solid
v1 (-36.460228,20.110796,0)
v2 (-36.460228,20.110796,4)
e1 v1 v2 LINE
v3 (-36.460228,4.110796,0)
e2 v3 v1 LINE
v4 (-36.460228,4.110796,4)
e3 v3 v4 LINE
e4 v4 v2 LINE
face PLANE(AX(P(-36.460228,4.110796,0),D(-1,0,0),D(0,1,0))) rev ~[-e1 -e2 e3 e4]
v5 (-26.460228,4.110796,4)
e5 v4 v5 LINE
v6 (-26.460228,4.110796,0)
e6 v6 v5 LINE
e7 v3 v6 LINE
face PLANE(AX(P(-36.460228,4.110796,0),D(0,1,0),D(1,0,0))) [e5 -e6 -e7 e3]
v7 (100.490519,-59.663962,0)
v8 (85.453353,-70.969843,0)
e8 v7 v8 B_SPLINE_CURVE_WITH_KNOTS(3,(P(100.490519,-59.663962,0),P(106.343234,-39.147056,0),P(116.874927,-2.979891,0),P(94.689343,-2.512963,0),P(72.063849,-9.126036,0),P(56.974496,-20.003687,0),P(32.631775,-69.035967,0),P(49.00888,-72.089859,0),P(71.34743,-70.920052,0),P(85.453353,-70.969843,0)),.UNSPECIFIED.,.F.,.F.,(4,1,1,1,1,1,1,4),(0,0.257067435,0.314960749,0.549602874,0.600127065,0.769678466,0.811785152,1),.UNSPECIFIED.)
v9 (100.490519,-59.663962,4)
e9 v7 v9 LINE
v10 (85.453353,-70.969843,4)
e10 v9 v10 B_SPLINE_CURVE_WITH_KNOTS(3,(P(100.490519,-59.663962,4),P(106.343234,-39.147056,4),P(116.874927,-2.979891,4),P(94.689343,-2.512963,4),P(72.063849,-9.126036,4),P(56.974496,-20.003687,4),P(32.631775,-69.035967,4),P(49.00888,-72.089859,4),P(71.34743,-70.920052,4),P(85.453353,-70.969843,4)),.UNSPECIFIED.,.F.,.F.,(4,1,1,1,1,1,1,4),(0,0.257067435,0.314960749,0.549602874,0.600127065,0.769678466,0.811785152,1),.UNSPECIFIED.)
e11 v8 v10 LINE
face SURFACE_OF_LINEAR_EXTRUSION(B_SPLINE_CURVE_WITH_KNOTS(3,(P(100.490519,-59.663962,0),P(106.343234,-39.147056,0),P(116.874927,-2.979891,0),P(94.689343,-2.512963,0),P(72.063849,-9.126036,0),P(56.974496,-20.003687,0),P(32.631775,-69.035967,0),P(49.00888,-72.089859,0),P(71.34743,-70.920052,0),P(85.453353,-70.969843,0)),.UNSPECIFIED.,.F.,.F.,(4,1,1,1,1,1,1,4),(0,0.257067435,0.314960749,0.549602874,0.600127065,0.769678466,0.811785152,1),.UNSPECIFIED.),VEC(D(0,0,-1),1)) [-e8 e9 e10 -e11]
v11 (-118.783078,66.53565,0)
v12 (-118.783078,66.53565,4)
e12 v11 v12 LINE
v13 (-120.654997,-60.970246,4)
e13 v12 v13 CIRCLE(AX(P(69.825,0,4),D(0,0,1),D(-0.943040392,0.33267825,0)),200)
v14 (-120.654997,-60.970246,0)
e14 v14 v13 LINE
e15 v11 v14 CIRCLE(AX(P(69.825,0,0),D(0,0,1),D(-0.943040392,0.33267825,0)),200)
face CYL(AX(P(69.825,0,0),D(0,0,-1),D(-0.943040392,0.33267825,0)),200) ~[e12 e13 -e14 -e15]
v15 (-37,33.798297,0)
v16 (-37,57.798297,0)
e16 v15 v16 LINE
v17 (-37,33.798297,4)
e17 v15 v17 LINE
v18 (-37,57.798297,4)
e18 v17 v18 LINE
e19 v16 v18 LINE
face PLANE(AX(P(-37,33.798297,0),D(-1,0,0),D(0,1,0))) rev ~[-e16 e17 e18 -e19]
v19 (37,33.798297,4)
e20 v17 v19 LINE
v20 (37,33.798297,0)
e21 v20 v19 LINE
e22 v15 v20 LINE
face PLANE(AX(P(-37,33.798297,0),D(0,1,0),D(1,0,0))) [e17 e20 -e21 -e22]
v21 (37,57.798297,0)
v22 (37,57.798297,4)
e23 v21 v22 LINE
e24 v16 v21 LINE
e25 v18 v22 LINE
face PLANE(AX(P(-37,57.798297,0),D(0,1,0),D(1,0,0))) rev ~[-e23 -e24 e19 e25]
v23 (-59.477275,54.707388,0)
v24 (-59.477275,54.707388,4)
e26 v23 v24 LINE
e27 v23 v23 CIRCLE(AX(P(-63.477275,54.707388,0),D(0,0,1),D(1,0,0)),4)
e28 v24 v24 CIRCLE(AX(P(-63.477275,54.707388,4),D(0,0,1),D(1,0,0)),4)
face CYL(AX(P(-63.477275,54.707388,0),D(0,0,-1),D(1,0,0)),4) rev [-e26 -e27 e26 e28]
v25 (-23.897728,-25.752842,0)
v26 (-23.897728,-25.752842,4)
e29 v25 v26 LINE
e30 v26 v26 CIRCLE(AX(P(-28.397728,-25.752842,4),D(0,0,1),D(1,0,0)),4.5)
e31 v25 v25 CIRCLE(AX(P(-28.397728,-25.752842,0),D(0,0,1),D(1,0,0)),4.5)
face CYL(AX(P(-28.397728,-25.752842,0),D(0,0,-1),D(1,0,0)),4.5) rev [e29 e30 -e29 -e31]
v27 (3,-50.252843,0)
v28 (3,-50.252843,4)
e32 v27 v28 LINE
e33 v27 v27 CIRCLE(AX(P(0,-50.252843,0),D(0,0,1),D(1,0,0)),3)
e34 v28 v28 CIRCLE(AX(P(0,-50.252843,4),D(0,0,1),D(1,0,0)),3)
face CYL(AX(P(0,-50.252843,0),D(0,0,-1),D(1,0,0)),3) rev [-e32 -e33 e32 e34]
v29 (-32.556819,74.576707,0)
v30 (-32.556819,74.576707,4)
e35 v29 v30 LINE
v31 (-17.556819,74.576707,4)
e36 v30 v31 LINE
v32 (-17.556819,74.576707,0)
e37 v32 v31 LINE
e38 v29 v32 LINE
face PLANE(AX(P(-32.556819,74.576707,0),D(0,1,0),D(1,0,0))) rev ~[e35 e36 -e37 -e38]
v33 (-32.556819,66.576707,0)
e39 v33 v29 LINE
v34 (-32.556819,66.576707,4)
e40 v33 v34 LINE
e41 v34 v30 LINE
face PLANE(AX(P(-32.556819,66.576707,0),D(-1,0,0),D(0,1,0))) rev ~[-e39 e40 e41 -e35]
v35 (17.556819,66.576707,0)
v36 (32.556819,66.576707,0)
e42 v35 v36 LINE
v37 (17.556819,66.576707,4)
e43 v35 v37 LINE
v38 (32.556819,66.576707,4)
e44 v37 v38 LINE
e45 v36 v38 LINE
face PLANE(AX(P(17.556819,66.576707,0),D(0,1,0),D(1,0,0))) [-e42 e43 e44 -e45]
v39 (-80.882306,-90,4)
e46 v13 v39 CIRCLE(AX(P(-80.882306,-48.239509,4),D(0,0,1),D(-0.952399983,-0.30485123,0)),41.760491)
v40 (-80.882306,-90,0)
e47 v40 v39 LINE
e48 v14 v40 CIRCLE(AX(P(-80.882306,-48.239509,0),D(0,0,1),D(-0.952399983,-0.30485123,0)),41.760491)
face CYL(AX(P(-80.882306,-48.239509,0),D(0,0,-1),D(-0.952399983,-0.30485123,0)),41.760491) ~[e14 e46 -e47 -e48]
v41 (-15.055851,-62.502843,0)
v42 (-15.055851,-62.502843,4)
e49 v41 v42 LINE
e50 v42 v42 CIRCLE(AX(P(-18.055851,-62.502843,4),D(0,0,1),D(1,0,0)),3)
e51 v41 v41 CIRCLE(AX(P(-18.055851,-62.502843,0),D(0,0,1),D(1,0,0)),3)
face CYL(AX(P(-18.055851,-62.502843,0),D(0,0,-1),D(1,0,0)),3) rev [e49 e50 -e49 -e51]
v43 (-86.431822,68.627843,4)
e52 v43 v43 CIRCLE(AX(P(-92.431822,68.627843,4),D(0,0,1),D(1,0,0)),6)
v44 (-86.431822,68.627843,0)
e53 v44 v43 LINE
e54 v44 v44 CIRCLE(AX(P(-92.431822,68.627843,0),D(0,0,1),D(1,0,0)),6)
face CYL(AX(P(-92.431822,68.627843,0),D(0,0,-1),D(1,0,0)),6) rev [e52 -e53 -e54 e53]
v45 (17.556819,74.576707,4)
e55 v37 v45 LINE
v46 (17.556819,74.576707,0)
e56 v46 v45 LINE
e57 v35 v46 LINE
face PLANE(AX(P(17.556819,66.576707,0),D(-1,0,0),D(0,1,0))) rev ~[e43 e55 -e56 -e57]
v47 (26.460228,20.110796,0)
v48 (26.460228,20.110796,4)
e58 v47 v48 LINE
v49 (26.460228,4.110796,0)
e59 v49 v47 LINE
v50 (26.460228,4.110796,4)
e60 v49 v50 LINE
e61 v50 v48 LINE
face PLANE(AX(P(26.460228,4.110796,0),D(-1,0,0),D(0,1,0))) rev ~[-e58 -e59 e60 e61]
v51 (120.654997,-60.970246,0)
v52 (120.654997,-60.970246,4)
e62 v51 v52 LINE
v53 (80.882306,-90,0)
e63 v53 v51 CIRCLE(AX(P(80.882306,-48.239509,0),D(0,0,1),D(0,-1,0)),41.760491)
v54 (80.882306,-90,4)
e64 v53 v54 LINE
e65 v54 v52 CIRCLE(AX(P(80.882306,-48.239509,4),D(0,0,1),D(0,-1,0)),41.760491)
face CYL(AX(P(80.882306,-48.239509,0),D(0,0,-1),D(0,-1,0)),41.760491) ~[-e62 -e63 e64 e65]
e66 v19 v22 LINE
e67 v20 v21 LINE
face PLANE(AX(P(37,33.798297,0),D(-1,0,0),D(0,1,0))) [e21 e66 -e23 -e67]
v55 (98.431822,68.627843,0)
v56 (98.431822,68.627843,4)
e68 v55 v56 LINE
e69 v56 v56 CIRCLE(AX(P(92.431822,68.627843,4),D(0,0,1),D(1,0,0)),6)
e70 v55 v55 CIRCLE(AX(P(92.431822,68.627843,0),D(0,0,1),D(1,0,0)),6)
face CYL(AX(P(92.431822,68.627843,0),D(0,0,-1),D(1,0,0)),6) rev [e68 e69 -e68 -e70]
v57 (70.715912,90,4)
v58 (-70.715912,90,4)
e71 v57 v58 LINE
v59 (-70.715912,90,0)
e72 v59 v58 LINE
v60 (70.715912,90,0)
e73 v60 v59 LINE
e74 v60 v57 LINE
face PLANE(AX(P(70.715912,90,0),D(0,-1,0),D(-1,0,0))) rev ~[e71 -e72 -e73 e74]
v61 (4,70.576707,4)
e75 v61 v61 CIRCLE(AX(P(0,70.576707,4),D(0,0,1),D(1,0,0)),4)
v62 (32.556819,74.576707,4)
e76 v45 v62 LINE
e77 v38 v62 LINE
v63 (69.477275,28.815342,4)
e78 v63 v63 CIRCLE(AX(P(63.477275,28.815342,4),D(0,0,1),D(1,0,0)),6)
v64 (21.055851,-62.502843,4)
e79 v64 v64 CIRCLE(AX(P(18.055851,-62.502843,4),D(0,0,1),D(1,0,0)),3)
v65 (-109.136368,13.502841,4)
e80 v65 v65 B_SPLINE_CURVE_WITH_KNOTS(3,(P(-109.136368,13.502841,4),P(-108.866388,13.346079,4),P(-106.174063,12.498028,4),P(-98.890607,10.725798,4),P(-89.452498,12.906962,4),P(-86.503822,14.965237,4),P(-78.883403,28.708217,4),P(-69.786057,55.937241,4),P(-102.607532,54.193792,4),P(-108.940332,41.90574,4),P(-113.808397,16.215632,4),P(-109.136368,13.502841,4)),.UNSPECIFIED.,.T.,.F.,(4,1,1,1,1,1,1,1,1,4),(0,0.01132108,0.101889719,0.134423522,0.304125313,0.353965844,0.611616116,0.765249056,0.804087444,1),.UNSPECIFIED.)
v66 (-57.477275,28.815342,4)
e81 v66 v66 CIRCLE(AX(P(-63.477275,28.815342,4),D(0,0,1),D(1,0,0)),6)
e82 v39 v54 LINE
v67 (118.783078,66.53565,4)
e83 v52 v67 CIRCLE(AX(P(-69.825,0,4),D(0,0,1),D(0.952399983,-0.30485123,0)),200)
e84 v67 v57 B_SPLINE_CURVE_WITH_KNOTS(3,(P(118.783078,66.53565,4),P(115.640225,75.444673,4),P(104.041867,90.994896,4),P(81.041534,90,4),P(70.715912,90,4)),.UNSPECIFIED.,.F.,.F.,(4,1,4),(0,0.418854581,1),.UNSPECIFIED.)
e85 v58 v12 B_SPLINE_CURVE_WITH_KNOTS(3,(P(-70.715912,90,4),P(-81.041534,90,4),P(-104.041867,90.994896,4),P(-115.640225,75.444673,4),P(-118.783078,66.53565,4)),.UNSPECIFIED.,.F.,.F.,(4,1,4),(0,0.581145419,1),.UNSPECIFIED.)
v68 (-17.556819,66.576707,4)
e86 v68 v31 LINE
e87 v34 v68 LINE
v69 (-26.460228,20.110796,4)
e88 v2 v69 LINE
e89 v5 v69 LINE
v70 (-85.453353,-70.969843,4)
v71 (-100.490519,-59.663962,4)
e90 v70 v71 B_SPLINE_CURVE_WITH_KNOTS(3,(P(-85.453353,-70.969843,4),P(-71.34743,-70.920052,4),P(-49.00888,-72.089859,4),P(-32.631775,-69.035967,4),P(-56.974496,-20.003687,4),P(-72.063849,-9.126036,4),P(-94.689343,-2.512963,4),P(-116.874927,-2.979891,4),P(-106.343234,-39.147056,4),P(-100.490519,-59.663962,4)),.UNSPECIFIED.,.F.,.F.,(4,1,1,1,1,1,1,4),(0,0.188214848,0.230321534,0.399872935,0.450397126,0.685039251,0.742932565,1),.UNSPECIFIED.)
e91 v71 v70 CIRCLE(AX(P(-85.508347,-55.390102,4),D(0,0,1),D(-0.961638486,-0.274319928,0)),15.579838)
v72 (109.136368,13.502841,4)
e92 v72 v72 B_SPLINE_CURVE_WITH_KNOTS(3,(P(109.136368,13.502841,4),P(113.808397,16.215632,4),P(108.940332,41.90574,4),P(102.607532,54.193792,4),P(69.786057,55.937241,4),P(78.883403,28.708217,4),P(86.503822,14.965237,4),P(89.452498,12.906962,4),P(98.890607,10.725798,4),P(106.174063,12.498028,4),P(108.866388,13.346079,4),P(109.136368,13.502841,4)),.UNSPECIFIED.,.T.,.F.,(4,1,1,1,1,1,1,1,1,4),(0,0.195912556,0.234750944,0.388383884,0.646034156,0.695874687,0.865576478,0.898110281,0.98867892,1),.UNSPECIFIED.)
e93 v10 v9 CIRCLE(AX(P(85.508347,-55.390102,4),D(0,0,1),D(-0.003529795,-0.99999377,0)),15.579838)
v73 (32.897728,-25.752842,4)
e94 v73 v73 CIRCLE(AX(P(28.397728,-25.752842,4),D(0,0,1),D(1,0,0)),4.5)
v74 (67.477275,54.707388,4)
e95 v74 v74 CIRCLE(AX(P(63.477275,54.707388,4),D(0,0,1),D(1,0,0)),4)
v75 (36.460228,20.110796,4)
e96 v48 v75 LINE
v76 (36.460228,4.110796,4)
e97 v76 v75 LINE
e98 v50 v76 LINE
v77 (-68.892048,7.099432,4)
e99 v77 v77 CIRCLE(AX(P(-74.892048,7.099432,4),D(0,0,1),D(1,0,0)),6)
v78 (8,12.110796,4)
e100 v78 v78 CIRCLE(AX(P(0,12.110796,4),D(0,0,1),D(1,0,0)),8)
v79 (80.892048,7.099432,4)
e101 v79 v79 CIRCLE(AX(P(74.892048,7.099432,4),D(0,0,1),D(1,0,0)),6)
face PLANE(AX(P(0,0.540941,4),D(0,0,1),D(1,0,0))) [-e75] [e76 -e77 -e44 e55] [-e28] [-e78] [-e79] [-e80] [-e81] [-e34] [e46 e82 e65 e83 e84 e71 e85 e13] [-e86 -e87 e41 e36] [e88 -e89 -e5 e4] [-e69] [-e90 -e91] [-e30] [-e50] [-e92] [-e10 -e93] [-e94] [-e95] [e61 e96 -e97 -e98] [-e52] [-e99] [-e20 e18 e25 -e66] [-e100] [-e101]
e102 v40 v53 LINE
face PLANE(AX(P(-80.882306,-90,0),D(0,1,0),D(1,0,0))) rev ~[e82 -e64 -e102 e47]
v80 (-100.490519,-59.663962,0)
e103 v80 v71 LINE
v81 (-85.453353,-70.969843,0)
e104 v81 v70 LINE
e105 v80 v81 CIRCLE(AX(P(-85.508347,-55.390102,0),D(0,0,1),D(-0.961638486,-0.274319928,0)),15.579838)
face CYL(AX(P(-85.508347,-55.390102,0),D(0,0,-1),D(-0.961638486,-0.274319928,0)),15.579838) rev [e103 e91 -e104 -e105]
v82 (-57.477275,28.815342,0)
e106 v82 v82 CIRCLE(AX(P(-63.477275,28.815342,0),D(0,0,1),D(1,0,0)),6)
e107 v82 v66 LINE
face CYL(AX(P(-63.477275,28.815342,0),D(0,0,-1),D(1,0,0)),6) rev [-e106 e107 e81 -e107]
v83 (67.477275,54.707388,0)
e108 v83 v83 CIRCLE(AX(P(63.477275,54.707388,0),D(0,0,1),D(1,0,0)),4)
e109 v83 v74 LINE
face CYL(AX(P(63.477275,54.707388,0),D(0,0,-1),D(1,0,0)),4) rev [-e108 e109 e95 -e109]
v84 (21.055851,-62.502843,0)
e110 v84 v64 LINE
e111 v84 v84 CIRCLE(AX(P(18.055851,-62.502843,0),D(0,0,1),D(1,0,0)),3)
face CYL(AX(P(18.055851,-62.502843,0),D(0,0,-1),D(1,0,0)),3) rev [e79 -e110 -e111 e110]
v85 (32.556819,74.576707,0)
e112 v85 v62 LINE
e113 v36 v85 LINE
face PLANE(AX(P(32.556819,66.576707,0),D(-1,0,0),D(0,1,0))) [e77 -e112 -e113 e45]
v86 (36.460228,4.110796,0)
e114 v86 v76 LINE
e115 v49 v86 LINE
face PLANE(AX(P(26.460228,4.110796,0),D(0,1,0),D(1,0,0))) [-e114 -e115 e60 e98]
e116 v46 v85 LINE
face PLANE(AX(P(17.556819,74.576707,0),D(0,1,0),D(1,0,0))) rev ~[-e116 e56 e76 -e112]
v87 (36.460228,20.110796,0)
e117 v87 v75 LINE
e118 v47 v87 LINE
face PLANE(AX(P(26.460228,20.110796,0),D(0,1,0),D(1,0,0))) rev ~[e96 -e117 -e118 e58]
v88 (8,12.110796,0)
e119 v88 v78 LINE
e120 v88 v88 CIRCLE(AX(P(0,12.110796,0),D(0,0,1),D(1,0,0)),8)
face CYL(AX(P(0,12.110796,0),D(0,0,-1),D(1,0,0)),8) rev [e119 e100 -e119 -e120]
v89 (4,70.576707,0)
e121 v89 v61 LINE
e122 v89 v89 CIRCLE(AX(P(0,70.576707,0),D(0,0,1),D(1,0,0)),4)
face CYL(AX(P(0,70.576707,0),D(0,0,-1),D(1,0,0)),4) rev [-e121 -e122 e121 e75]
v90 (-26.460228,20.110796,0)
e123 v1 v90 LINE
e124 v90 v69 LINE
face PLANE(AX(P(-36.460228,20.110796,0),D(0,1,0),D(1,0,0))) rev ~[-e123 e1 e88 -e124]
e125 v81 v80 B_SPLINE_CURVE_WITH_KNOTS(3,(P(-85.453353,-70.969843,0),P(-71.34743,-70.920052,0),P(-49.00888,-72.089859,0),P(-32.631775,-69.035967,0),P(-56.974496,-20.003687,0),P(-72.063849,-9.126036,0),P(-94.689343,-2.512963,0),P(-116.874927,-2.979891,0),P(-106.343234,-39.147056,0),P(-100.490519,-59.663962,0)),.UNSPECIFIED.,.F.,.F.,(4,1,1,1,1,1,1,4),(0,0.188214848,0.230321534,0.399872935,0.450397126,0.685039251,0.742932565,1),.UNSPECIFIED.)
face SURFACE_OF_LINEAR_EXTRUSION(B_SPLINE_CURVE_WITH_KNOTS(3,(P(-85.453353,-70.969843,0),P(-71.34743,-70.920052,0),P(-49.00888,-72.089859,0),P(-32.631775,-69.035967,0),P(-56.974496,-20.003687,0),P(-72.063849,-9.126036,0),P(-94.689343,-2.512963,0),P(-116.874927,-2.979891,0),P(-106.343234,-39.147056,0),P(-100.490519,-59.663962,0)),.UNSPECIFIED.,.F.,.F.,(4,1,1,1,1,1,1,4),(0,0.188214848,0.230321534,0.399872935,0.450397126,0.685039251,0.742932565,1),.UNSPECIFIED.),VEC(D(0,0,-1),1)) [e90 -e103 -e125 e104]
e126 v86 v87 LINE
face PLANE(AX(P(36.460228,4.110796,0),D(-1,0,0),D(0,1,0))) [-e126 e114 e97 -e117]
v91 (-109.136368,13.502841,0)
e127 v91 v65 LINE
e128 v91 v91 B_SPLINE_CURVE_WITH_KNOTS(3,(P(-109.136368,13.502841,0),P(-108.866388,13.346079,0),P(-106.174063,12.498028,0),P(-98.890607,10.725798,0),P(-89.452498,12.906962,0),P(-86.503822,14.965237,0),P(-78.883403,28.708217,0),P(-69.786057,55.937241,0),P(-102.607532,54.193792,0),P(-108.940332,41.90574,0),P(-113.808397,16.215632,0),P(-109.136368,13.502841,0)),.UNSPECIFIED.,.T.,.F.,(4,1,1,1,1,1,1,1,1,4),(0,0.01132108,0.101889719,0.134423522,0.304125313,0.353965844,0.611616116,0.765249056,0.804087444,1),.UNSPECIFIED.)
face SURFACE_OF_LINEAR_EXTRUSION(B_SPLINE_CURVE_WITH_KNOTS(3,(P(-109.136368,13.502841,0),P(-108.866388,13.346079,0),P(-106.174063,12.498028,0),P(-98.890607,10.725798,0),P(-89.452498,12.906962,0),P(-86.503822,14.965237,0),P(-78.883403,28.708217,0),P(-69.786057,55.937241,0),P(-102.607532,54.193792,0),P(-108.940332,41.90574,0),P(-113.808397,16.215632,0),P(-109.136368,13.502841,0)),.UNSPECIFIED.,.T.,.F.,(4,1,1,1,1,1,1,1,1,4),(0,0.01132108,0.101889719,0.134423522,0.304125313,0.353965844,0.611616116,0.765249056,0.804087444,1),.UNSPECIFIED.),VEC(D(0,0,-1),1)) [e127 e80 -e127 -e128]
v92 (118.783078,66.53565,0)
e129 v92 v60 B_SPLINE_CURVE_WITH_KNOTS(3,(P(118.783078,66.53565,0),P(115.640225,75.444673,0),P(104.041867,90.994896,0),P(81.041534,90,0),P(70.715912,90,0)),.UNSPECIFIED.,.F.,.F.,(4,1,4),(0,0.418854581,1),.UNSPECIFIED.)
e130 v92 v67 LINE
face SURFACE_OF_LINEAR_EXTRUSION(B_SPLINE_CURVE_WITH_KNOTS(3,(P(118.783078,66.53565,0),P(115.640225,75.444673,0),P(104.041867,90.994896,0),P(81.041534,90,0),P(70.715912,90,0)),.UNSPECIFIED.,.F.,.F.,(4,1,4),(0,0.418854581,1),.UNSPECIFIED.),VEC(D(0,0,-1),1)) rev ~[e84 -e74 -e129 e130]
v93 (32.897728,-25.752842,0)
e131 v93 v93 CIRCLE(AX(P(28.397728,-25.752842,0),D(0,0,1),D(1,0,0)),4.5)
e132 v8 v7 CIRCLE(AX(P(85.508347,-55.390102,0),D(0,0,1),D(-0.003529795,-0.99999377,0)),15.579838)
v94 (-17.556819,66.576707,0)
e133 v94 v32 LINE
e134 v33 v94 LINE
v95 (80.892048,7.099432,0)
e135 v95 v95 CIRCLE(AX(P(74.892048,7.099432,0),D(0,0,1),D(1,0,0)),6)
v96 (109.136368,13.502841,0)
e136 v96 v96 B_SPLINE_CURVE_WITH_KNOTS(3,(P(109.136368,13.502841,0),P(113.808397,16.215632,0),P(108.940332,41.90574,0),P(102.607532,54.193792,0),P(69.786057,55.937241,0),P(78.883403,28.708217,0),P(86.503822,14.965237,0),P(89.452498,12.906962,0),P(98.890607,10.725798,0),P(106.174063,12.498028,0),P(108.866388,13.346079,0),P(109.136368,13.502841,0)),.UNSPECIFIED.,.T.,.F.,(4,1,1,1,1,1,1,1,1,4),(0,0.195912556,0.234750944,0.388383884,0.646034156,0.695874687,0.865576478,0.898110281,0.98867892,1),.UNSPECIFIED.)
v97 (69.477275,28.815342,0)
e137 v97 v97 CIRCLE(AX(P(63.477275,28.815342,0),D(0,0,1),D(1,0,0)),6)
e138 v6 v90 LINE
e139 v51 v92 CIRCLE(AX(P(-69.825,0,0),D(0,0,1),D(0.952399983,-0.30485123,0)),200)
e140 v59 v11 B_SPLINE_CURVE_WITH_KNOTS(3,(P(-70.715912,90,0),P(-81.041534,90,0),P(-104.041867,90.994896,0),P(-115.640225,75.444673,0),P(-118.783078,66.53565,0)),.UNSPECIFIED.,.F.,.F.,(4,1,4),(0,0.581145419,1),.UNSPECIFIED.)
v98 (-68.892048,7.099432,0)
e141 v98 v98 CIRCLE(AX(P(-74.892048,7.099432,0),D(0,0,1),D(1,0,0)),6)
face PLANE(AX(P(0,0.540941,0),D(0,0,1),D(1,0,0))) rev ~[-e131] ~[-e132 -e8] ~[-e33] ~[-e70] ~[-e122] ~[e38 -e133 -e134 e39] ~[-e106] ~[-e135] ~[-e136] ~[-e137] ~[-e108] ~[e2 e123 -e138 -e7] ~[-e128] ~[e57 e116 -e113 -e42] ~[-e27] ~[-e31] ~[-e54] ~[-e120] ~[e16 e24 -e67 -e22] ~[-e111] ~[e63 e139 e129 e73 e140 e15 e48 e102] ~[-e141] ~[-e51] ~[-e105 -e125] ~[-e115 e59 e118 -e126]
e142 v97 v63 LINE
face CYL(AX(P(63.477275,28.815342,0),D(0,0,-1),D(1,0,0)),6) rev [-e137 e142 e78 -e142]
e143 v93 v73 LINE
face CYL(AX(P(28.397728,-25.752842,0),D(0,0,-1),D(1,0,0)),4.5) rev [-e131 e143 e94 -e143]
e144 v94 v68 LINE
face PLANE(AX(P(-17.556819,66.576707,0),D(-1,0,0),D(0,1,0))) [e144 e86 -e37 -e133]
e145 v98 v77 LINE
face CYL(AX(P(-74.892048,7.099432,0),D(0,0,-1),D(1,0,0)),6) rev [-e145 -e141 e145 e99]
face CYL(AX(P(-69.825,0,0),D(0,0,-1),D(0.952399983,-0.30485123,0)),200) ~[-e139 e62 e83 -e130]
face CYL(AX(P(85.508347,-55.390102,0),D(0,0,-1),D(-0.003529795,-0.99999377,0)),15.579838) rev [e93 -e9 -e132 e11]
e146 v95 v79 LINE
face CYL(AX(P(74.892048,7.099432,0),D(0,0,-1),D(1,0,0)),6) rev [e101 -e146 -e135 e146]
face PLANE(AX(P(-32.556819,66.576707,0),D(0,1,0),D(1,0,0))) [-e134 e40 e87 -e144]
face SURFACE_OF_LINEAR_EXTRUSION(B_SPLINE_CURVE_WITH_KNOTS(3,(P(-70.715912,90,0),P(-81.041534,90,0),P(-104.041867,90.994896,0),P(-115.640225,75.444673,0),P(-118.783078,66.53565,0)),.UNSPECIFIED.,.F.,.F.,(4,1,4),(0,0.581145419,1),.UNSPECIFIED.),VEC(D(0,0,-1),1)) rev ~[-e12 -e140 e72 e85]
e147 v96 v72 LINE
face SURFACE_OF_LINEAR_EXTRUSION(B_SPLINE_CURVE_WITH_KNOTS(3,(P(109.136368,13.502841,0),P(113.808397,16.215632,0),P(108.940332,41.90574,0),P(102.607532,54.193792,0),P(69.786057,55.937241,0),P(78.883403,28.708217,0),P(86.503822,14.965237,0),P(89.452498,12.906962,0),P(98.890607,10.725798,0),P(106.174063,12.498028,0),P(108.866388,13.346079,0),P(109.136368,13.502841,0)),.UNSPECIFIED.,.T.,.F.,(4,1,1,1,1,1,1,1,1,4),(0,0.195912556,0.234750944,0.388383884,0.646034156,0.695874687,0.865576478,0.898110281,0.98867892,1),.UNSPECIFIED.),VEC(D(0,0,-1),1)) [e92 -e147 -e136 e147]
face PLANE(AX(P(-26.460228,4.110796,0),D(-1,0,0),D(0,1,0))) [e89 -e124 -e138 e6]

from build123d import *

# Parameters (mm, degrees)
COMBINE_SKETCH_R    = 6
COMBINE_SKETCH_R_2  = 4
COMBINE_SKETCH_R_3  = 3
COMBINE_SKETCH_R_4  = 8
COMBINE_SKETCH_R_5  = 4.5
COMBINE_SKETCH_W    = 15
COMBINE_SKETCH_H    = 8
COMBINE_SKETCH_W_2  = 10
COMBINE_SKETCH_H_2  = 16
COMBINE_SKETCH_W_3  = 74
COMBINE_SKETCH_H_3  = 24
BOSS_EXTRUDE1_DEPTH = 4


with BuildPart() as part:
    # Combine Sketch → Boss-Extrude1 (new body)
    with BuildSketch(Plane.XY):
        with BuildLine():
            Line((70.715911751, 90), (-70.715911751, 90))
            add(Edge.make_bspline(
                [(-70.715911751, 90), (-81.041533891, 90), (-104.041866976, 90.994896053), (-115.640224719, 75.444672668), (-118.783078497, 66.535650037)],
                knots=[0, 0, 0, 0, 0.581145419, 1, 1, 1, 1], degree=3))
            ThreePointArc((-118.783078497, 66.535650037), (-130.153450214, 2.935889968), (-120.654996599, -60.970245988))
            ThreePointArc((-120.654996599, -60.970245988), (-105.50238667, -81.970655113), (-80.882305603, -90))
            Line((-80.882305603, -90), (80.882305603, -90))
            ThreePointArc((80.882305603, -90), (105.50238667, -81.970655113), (120.654996599, -60.970245988))
            ThreePointArc((120.654996599, -60.970245988), (130.153450214, 2.935889968), (118.783078497, 66.535650037))
            add(Edge.make_bspline(
                [(118.783078497, 66.535650037), (115.640224719, 75.444672668), (104.041866976, 90.994896053), (81.041533891, 90), (70.715911751, 90)],
                knots=[0, 0, 0, 0, 0.418854581, 1, 1, 1, 1], degree=3))
        make_face()
        with Locations((-92.431821659, 68.627843491)):
            Circle(COMBINE_SKETCH_R, mode=Mode.SUBTRACT)
        with Locations((-63.477275115, 54.707388422)):
            Circle(COMBINE_SKETCH_R_2, mode=Mode.SUBTRACT)
        with Locations((0, 70.5767072)):
            Circle(COMBINE_SKETCH_R_2, mode=Mode.SUBTRACT)
        with Locations((-63.477275115, 28.815341993)):
            Circle(COMBINE_SKETCH_R, mode=Mode.SUBTRACT)
        with Locations((-74.892048272, 7.099432085)):
            Circle(COMBINE_SKETCH_R, mode=Mode.SUBTRACT)
        with Locations((0, -50.2528428)):
            Circle(COMBINE_SKETCH_R_3, mode=Mode.SUBTRACT)
        with Locations((-18.05585105, -62.50284326)):
            Circle(COMBINE_SKETCH_R_3, mode=Mode.SUBTRACT)
        with Locations((0, 12.11079591)):
            Circle(COMBINE_SKETCH_R_4, mode=Mode.SUBTRACT)
        with Locations((-28.397728341, -25.752841878)):
            Circle(COMBINE_SKETCH_R_5, mode=Mode.SUBTRACT)
        with Locations((92.431821659, 68.627843491)):
            Circle(COMBINE_SKETCH_R, mode=Mode.SUBTRACT)
        with Locations((63.477275115, 54.707388422)):
            Circle(COMBINE_SKETCH_R_2, mode=Mode.SUBTRACT)
        with Locations((28.397728341, -25.752841878)):
            Circle(COMBINE_SKETCH_R_5, mode=Mode.SUBTRACT)
        with Locations((18.05585105, -62.50284326)):
            Circle(COMBINE_SKETCH_R_3, mode=Mode.SUBTRACT)
        with Locations((74.892048272, 7.099432085)):
            Circle(COMBINE_SKETCH_R, mode=Mode.SUBTRACT)
        with Locations((63.477275115, 28.815341993)):
            Circle(COMBINE_SKETCH_R, mode=Mode.SUBTRACT)
        with BuildLine():
            add(Edge.make_bspline(
                [(-109.136367742, 13.502841417), (-108.866388047, 13.346079014), (-106.174063441, 12.49802794), (-98.890606721, 10.725797818), (-89.452498482, 12.906961625), (-86.503822288, 14.965236876), (-78.883403474, 28.708216913), (-69.786057373, 55.937241409), (-102.607531639, 54.193791639), (-108.940331968, 41.905740233), (-113.808396618, 16.215632378), (-109.136367742, 13.502841417)],
                knots=[0, 0, 0, 0, 0.01132108, 0.101889719, 0.134423522, 0.304125313, 0.353965844, 0.611616116, 0.765249056, 0.804087444, 1, 1, 1, 1], degree=3))
        make_face(mode=Mode.SUBTRACT)
        with BuildLine():
            add(Edge.make_bspline(
                [(109.136367742, 13.502841417), (113.808396618, 16.215632378), (108.940331968, 41.905740233), (102.607531639, 54.193791639), (69.786057373, 55.937241409), (78.883403474, 28.708216913), (86.503822288, 14.965236876), (89.452498482, 12.906961625), (98.890606721, 10.725797818), (106.174063441, 12.49802794), (108.866388047, 13.346079014), (109.136367742, 13.502841417)],
                knots=[0, 0, 0, 0, 0.195912556, 0.234750944, 0.388383884, 0.646034156, 0.695874687, 0.865576478, 0.898110281, 0.98867892, 1, 1, 1, 1], degree=3))
        make_face(mode=Mode.SUBTRACT)
        with Locations((-25.056819124, 70.5767072)):
            Rectangle(COMBINE_SKETCH_W, COMBINE_SKETCH_H, mode=Mode.SUBTRACT)
        with Locations((31.460228456, 12.11079591)):
            Rectangle(COMBINE_SKETCH_W_2, COMBINE_SKETCH_H_2, mode=Mode.SUBTRACT)
        with Locations((-31.460228456, 12.11079591)):
            Rectangle(COMBINE_SKETCH_W_2, COMBINE_SKETCH_H_2, mode=Mode.SUBTRACT)
        with Locations((25.056819124, 70.5767072)):
            Rectangle(COMBINE_SKETCH_W, COMBINE_SKETCH_H, mode=Mode.SUBTRACT)
        with Locations((0, 45.798297177)):
            Rectangle(COMBINE_SKETCH_W_3, COMBINE_SKETCH_H_3, mode=Mode.SUBTRACT)
        with BuildLine():
            ThreePointArc((-100.490518571, -59.663962287), (-94.871086727, -67.842830883), (-85.453353395, -70.96984298))
            add(Edge.make_bspline(
                [(-85.453353395, -70.96984298), (-71.347430257, -70.920051649), (-49.008879589, -72.089859198), (-32.631774794, -69.035966839), (-56.974496218, -20.003686891), (-72.063849339, -9.126035687), (-94.68934323, -2.512963266), (-116.874926915, -2.97989148), (-106.343233958, -39.147055599), (-100.490518571, -59.663962287)],
                knots=[0, 0, 0, 0, 0.188214848, 0.230321534, 0.399872935, 0.450397126, 0.685039251, 0.742932565, 1, 1, 1, 1], degree=3))
        make_face(mode=Mode.SUBTRACT)
        with BuildLine():
            ThreePointArc((85.453353395, -70.96984298), (94.871086727, -67.842830883), (100.490518571, -59.663962287))
            add(Edge.make_bspline(
                [(100.490518571, -59.663962287), (106.343233958, -39.147055599), (116.874926915, -2.97989148), (94.68934323, -2.512963266), (72.063849339, -9.126035687), (56.974496218, -20.003686891), (32.631774794, -69.035966839), (49.008879589, -72.089859198), (71.347430257, -70.920051649), (85.453353395, -70.96984298)],
                knots=[0, 0, 0, 0, 0.257067435, 0.314960749, 0.549602874, 0.600127065, 0.769678466, 0.811785152, 1, 1, 1, 1], degree=3))
        make_face(mode=Mode.SUBTRACT)
    extrude(amount=BOSS_EXTRUDE1_DEPTH)


solid = part.part
